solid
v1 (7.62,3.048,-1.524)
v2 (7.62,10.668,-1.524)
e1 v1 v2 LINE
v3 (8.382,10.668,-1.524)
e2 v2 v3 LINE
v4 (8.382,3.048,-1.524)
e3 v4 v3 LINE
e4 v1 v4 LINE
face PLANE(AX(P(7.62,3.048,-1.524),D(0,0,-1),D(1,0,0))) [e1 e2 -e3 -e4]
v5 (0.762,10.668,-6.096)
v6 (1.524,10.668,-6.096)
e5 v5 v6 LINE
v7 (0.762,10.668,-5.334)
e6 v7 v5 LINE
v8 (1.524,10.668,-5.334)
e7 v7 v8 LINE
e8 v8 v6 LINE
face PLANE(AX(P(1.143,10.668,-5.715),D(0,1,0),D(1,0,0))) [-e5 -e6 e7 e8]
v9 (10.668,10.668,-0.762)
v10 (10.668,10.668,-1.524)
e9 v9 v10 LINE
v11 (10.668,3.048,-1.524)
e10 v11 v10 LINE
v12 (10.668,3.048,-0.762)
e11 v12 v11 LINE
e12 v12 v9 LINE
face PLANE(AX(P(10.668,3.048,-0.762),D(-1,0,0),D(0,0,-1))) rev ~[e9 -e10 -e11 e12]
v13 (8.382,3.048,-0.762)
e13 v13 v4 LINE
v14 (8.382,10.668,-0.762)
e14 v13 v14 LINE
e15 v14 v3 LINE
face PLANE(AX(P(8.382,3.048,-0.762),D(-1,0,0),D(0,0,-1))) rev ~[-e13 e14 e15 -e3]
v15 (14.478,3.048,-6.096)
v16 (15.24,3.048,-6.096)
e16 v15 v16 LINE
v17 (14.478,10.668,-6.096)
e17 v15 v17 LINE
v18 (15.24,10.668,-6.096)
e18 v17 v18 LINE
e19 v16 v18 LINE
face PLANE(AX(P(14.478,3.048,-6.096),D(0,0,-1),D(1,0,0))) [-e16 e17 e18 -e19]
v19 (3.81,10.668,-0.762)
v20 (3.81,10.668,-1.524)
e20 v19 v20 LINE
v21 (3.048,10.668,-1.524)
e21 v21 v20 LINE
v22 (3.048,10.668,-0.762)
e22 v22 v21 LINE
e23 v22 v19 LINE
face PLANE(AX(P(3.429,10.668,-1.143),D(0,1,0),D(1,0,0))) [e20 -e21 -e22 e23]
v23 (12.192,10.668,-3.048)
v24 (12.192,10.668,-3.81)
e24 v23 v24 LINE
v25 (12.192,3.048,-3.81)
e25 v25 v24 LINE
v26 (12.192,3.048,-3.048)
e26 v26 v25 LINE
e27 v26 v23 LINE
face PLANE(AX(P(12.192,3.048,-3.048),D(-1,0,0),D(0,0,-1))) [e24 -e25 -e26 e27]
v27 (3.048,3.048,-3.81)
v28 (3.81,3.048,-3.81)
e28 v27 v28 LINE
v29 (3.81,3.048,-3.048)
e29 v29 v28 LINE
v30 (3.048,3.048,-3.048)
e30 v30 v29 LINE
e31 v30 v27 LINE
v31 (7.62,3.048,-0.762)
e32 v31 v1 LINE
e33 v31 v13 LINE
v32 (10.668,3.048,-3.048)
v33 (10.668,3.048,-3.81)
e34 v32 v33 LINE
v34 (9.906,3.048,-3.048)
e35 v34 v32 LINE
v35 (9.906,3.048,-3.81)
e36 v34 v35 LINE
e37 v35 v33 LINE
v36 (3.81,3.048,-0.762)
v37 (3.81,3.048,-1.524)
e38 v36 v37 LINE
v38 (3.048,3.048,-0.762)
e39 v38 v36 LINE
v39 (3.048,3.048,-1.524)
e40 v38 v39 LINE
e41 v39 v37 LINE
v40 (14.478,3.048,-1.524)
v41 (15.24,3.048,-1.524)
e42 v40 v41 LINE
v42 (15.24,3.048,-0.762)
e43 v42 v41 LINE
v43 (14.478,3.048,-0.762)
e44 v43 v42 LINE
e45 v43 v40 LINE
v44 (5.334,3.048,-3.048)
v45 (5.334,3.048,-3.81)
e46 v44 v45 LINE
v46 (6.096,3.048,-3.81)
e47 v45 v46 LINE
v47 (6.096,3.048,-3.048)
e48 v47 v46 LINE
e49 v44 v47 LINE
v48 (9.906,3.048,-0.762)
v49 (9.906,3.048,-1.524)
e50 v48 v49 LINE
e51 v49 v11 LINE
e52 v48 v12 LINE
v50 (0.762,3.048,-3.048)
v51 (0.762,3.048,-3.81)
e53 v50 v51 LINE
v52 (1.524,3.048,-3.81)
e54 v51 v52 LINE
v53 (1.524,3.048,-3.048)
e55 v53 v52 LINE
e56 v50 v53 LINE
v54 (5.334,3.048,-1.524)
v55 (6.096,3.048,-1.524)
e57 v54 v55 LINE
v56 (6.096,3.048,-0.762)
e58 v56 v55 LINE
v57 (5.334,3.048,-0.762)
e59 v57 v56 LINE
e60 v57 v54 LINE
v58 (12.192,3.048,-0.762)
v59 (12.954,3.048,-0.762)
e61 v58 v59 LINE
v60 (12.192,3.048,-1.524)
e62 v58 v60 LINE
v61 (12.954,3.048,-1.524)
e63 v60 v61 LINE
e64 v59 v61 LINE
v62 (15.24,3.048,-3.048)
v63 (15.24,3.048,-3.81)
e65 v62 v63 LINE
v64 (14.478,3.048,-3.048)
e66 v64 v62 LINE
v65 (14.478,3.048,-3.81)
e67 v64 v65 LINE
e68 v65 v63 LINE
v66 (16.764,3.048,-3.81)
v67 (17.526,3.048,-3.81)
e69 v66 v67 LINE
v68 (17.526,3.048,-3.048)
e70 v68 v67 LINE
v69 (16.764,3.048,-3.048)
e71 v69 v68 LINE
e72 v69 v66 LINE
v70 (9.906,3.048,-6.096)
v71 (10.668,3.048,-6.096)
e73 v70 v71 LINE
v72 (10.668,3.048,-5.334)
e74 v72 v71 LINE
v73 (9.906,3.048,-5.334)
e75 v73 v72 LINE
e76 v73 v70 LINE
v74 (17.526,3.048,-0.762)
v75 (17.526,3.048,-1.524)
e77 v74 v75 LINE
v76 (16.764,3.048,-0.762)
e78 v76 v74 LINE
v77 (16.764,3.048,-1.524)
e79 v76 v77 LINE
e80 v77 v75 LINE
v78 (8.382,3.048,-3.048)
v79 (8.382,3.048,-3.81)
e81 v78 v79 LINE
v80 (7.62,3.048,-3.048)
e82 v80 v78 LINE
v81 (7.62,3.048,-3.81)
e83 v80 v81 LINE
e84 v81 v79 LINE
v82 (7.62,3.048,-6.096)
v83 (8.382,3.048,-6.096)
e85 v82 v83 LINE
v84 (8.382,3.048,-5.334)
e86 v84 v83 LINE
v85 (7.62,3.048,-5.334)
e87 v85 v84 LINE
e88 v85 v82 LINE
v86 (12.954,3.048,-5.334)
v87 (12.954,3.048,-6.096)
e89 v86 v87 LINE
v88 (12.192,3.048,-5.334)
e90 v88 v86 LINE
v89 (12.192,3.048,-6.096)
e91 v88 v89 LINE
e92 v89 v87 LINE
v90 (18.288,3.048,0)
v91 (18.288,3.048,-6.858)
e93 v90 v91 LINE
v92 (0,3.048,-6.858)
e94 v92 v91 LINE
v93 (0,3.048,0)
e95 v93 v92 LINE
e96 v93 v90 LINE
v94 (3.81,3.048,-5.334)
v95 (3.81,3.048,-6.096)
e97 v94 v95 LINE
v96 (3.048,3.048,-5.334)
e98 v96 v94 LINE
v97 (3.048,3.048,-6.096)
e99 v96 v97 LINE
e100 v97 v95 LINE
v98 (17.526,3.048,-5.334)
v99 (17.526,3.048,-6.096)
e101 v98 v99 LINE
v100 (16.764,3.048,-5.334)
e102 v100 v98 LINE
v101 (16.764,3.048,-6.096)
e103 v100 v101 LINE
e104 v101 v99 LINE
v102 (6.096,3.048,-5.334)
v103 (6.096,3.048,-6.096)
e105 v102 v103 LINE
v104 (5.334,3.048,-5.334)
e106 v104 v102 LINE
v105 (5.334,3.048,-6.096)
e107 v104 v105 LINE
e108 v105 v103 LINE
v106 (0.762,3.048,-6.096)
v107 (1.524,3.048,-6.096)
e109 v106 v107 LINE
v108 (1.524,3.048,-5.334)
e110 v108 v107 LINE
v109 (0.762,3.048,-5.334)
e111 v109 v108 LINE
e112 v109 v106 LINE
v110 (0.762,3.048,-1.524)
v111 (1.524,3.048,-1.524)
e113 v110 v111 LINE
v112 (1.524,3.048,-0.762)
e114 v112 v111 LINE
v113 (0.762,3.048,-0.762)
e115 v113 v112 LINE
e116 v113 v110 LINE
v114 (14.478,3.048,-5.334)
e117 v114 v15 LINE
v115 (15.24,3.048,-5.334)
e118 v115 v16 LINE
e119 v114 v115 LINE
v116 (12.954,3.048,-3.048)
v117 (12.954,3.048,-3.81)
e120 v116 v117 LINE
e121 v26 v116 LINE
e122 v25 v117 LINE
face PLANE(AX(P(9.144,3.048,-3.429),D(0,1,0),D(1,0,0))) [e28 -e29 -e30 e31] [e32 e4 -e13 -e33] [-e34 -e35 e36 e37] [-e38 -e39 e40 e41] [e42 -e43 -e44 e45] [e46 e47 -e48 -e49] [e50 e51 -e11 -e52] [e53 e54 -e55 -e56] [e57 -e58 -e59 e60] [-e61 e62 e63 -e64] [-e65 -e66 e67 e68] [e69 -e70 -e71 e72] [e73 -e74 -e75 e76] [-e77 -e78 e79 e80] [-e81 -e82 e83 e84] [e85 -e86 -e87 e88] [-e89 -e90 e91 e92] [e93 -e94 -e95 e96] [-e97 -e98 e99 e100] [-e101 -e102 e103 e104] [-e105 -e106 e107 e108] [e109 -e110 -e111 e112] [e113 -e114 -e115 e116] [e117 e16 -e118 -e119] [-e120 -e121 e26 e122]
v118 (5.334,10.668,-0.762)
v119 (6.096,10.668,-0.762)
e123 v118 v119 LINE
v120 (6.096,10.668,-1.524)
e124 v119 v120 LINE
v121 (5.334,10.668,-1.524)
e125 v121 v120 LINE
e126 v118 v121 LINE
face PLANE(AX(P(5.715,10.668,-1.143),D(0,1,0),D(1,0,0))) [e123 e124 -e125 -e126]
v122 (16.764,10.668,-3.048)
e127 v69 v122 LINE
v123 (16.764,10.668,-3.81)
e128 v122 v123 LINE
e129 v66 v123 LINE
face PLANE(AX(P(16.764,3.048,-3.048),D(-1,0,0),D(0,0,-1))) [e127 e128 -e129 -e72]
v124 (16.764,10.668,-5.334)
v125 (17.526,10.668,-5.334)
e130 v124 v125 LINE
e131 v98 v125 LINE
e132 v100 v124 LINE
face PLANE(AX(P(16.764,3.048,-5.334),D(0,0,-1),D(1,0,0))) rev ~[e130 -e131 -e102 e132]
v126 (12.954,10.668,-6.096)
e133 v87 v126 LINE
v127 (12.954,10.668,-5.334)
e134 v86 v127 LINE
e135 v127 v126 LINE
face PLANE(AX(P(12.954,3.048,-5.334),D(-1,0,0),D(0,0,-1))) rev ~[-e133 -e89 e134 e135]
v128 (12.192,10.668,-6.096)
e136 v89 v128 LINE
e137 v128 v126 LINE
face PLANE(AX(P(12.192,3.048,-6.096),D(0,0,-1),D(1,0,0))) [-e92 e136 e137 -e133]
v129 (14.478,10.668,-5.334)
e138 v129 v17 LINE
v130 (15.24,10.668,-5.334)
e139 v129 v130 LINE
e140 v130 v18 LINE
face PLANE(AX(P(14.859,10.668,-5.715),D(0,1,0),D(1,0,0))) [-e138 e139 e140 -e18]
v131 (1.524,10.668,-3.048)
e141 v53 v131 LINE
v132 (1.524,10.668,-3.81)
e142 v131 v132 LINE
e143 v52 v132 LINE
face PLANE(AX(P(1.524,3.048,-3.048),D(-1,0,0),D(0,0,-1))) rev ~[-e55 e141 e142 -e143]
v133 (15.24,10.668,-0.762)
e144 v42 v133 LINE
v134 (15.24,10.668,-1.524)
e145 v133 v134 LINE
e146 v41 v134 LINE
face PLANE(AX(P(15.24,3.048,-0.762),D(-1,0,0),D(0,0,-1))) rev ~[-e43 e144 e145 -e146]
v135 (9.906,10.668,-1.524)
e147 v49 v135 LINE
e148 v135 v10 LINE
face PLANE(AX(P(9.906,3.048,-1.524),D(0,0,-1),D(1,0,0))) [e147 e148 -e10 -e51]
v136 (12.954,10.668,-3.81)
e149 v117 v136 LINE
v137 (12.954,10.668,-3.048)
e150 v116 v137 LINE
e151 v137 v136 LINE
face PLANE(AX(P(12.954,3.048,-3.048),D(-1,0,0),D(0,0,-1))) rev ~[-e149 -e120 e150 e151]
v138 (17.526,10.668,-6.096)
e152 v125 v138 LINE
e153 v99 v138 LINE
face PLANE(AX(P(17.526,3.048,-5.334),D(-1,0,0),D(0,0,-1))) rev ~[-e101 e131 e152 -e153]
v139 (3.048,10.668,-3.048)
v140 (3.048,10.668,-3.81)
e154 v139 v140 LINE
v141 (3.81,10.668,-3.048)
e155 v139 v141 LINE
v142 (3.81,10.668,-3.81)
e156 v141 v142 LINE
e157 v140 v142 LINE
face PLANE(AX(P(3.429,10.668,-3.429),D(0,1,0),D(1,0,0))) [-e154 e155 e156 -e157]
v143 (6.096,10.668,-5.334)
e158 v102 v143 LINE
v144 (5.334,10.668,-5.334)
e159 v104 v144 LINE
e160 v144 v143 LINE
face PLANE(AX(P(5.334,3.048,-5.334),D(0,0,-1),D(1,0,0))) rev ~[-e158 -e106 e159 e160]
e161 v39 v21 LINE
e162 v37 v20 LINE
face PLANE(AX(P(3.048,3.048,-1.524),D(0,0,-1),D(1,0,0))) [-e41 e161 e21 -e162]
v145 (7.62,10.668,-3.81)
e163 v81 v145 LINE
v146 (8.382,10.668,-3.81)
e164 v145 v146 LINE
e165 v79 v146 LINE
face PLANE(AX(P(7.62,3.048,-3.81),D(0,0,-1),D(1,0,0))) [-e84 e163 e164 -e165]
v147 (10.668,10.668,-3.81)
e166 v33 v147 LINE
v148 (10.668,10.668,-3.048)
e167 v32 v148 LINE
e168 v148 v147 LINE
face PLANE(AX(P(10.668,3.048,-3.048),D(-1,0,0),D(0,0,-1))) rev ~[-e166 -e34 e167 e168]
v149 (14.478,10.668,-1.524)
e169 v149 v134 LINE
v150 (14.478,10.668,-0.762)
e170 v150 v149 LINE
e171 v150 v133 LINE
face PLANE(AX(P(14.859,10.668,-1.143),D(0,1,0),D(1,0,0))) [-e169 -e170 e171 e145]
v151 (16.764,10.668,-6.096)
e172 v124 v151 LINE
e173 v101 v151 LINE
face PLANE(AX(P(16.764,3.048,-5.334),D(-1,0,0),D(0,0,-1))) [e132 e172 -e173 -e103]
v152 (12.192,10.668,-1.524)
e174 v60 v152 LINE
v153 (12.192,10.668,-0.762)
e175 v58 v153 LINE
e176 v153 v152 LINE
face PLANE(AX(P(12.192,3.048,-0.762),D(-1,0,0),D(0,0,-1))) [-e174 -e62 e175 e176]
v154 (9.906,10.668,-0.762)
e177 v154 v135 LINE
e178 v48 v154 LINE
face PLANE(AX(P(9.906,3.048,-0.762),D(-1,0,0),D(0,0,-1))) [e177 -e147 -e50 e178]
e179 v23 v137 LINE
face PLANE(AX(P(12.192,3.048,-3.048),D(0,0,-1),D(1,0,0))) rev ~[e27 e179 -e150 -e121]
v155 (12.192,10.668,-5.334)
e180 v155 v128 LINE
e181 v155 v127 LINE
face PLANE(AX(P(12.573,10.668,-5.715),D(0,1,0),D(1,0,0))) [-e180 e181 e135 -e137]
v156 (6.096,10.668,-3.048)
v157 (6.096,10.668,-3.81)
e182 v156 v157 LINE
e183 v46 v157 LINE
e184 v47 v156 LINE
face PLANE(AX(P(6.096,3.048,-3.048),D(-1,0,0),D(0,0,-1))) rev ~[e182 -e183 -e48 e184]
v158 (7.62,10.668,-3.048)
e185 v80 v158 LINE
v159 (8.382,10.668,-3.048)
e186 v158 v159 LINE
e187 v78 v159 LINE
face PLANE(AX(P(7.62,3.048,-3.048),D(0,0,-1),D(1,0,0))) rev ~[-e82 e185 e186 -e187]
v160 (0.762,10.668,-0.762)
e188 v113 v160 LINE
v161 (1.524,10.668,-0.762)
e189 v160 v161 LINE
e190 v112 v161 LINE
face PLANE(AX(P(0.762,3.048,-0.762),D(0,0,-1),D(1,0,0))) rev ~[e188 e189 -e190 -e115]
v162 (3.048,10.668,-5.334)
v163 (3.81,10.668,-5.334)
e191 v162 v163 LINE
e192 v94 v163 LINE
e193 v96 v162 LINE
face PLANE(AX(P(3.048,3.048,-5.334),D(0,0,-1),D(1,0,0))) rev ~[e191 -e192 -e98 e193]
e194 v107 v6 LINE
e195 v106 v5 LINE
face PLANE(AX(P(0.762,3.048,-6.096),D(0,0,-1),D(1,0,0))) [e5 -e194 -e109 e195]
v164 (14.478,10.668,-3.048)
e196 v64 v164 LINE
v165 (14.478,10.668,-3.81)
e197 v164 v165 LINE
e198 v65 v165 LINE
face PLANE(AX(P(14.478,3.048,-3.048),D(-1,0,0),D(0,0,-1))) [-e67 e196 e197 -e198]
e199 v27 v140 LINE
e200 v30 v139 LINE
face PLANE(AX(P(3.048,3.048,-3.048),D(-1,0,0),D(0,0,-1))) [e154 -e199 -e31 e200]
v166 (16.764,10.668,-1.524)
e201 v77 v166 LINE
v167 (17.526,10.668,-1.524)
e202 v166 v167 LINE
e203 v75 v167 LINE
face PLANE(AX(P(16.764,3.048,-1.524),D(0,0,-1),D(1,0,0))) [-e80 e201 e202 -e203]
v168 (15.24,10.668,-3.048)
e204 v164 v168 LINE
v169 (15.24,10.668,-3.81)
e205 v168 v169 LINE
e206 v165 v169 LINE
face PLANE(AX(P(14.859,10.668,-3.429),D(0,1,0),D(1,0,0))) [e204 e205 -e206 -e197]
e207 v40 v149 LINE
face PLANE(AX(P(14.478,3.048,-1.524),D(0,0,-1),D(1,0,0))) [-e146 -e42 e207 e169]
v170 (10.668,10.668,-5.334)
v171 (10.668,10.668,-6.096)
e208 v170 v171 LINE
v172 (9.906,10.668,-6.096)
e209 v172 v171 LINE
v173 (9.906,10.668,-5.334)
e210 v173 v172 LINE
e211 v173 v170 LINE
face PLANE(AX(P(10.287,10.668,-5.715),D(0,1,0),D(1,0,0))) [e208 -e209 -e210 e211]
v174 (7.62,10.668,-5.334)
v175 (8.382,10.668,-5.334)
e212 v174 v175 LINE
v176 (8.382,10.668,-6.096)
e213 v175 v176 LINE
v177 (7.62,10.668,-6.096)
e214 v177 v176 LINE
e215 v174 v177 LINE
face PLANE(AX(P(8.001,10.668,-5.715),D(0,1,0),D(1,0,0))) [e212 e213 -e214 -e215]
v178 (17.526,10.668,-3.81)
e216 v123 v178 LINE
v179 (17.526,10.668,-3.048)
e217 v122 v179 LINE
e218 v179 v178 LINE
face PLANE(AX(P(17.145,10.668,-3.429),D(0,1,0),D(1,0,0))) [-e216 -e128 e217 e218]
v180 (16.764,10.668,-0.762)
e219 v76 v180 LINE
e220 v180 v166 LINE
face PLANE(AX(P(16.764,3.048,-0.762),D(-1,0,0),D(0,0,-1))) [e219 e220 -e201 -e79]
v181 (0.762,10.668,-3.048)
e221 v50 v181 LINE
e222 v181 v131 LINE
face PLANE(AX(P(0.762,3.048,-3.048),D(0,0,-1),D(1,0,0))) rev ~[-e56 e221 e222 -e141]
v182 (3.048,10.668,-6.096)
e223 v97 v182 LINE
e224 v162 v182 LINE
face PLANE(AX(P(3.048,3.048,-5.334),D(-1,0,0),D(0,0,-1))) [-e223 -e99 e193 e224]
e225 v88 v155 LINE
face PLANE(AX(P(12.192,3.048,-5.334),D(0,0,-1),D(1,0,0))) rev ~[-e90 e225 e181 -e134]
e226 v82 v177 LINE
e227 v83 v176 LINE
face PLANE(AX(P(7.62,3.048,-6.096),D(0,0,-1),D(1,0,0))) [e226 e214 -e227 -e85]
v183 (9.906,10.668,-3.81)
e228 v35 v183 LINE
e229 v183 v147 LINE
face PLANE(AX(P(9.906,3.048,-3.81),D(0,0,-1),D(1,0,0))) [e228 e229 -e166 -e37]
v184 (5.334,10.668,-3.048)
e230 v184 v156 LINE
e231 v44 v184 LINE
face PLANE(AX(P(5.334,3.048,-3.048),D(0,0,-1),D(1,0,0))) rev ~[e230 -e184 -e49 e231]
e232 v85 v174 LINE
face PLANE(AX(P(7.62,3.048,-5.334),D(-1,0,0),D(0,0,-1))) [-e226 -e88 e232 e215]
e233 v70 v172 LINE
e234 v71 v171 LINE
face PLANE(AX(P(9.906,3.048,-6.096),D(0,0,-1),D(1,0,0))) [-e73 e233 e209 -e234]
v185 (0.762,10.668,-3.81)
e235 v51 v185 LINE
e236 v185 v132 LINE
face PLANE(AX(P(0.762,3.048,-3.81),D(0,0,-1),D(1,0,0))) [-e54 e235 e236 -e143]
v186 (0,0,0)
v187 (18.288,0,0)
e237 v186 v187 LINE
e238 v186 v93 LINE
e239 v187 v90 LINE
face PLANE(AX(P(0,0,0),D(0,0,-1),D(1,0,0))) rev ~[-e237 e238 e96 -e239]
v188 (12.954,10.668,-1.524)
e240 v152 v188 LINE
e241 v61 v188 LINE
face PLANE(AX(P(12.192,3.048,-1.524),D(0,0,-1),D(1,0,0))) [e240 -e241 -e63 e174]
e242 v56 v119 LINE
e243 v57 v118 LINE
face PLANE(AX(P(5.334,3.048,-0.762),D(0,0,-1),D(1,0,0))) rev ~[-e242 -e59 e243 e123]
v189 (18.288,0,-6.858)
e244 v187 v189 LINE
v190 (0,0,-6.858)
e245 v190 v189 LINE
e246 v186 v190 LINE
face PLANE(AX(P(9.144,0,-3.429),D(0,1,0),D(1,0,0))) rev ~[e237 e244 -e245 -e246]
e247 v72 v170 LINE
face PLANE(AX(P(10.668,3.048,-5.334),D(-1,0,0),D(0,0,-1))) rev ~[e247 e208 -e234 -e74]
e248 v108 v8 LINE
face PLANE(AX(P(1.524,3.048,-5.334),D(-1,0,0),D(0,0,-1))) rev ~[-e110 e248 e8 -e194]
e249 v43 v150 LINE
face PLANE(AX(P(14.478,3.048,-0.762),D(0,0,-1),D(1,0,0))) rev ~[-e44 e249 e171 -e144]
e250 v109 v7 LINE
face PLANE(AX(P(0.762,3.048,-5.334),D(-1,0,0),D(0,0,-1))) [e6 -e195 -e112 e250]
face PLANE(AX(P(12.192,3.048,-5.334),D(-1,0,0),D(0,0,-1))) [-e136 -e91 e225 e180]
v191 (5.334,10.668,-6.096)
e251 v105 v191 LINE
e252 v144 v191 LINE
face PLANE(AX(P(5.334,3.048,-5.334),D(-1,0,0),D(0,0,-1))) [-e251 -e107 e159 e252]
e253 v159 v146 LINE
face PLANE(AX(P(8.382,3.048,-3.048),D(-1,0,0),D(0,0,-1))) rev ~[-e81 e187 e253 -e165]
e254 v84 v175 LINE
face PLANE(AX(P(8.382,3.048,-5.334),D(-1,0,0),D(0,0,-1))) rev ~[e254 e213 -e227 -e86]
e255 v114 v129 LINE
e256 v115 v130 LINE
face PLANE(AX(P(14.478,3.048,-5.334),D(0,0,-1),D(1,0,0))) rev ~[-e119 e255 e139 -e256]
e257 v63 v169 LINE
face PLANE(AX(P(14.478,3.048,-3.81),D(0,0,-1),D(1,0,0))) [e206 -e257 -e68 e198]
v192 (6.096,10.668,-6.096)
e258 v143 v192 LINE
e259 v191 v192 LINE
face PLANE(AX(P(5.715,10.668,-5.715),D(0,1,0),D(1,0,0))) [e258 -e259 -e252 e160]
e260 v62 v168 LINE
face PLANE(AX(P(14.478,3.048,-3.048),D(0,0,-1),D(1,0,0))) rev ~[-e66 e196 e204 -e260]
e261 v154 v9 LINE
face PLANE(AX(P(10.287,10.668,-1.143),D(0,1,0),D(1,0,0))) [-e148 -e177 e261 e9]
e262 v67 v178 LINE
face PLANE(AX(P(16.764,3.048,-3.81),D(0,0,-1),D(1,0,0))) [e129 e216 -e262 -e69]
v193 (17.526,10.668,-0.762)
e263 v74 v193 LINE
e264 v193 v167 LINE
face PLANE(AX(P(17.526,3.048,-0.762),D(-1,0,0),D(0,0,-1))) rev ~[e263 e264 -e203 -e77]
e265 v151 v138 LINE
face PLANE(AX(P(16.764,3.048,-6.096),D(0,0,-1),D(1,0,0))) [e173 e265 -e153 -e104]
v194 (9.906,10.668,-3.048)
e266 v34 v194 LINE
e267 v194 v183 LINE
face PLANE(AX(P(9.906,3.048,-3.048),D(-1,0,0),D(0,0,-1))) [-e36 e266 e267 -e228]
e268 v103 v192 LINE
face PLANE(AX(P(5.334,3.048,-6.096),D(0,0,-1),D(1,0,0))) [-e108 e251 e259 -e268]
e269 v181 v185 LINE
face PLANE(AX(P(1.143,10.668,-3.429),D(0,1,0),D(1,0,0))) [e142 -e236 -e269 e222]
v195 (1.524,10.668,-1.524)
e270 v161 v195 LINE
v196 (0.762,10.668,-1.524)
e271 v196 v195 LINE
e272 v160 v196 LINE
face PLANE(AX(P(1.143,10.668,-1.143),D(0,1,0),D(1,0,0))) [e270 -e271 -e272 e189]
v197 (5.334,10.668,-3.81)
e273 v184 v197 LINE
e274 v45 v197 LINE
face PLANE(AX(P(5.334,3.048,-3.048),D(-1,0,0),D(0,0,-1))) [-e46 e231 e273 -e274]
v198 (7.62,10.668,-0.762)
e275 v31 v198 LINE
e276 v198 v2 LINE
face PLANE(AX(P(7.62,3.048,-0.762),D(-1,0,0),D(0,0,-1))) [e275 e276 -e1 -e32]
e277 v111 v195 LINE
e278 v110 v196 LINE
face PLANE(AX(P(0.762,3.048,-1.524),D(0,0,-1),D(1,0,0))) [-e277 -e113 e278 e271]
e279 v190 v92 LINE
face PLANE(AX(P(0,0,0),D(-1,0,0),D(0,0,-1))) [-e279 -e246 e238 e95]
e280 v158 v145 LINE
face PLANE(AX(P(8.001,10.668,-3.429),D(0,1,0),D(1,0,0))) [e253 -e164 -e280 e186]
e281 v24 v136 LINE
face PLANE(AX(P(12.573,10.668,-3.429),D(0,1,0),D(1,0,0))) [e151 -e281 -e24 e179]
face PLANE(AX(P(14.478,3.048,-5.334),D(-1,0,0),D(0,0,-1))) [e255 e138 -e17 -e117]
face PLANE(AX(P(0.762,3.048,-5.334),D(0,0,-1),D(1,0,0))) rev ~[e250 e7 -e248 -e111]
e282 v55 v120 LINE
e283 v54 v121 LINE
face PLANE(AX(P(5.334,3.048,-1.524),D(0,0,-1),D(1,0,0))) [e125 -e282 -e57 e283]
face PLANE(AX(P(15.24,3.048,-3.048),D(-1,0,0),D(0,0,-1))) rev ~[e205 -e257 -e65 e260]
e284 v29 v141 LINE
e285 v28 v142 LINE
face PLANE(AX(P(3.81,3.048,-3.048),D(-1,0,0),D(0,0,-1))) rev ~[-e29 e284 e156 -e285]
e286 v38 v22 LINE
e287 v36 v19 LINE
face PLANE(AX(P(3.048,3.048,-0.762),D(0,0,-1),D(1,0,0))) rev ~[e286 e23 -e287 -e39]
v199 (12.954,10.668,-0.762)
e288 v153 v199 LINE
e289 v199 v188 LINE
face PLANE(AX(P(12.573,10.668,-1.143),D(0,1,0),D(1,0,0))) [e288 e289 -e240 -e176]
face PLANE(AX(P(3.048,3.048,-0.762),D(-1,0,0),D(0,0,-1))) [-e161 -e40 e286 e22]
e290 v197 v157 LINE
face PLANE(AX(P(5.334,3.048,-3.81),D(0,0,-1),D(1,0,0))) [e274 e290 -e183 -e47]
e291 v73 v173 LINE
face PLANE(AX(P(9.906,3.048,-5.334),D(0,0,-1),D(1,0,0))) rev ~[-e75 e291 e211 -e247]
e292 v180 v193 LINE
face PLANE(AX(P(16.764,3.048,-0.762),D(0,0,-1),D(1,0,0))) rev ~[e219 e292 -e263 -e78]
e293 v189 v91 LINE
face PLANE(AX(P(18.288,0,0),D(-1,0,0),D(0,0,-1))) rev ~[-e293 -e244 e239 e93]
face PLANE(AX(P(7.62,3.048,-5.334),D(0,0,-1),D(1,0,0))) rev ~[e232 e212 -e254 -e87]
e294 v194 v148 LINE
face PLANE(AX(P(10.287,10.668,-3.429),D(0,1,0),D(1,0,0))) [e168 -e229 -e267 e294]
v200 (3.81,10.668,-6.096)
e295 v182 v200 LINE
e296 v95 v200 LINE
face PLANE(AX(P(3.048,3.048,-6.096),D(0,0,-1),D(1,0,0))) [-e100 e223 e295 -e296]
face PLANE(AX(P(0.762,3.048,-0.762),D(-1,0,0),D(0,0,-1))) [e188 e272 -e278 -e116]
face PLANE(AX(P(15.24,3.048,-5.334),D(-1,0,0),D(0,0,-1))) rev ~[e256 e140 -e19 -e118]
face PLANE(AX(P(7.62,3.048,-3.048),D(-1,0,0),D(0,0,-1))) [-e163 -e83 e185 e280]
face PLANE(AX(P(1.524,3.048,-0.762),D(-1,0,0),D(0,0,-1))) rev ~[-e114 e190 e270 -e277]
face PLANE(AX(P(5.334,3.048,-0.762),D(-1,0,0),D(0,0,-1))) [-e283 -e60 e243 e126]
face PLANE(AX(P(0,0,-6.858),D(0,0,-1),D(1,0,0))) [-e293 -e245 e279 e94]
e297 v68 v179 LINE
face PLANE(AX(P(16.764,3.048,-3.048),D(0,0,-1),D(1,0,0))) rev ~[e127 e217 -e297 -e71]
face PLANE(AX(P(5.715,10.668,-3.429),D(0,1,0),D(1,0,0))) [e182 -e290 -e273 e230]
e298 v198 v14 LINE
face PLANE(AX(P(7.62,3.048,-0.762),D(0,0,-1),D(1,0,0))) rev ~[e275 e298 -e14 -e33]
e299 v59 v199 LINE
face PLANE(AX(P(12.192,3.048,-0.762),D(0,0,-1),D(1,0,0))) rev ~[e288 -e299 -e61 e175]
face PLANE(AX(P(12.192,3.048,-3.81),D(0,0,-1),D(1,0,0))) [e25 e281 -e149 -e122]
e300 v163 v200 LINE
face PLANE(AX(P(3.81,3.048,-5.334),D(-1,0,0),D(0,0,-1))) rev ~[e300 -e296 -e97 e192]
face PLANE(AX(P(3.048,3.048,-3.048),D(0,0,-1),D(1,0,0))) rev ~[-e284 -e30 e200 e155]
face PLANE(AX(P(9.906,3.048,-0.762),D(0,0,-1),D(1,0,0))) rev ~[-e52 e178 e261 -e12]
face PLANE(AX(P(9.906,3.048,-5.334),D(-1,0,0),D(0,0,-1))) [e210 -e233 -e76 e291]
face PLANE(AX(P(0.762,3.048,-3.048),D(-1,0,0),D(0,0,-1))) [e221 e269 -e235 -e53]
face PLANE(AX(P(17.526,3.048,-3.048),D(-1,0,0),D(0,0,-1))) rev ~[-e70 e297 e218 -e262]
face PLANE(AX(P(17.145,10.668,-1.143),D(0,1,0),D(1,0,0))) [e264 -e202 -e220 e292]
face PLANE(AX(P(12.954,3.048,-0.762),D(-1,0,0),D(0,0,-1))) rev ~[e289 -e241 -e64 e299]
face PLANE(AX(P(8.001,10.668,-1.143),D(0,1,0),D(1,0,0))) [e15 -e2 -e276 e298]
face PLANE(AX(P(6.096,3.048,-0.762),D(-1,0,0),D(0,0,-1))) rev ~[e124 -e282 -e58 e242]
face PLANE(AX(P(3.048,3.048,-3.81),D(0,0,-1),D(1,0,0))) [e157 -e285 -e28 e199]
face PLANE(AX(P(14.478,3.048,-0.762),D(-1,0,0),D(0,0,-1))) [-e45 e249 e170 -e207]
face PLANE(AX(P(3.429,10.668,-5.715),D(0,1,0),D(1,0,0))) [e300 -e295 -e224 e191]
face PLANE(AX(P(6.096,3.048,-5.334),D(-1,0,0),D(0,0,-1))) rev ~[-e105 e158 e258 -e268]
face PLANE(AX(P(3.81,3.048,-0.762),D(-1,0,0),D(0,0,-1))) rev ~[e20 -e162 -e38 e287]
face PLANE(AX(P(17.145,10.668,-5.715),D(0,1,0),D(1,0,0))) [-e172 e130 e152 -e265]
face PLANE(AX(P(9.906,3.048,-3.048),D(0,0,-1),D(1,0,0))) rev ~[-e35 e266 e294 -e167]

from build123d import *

# Parameters (mm, degrees)
SKETCH1_W      = 18.288
SKETCH1_H      = 6.858
EXTRUDE1_DEPTH = 3.048
SKETCH2_W      = 0.762
SKETCH2_H      = 0.762
EXTRUDE2_DEPTH = 7.62


with BuildPart() as part:
    # Sketch1 → Extrude1 (new body)
    with BuildSketch(Plane(origin=(0, 0, 0), x_dir=(1, 0, 0), z_dir=(0, 1, 0))):
        with Locations((9.144, 3.429)):
            Rectangle(SKETCH1_W, SKETCH1_H)
    extrude(amount=EXTRUDE1_DEPTH)

    # Sketch2 → Extrude2 (add)
    with BuildSketch(Plane(origin=(0, 3.048, 0), x_dir=(1, 0, 0), z_dir=(0, 1, 0))):
        with Locations((3.429, 5.715)):
            Rectangle(SKETCH2_W, SKETCH2_H)
        with Locations((1.143, 5.715)):
            Rectangle(SKETCH2_W, SKETCH2_H)
        with Locations((5.715, 5.715)):
            Rectangle(SKETCH2_W, SKETCH2_H)
        with Locations((8.001, 5.715)):
            Rectangle(SKETCH2_W, SKETCH2_H)
        with Locations((10.287, 5.715)):
            Rectangle(SKETCH2_W, SKETCH2_H)
        with Locations((12.573, 5.715)):
            Rectangle(SKETCH2_W, SKETCH2_H)
        with Locations((14.859, 5.715)):
            Rectangle(SKETCH2_W, SKETCH2_H)
        with Locations((17.145, 5.715)):
            Rectangle(SKETCH2_W, SKETCH2_H)
        with Locations((1.143, 3.429)):
            Rectangle(SKETCH2_W, SKETCH2_H)
        with Locations((3.429, 3.429)):
            Rectangle(SKETCH2_W, SKETCH2_H)
        with Locations((5.715, 3.429)):
            Rectangle(SKETCH2_W, SKETCH2_H)
        with Locations((8.001, 3.429)):
            Rectangle(SKETCH2_W, SKETCH2_H)
        with Locations((10.287, 3.429)):
            Rectangle(SKETCH2_W, SKETCH2_H)
        with Locations((12.573, 3.429)):
            Rectangle(SKETCH2_W, SKETCH2_H)
        with Locations((14.859, 3.429)):
            Rectangle(SKETCH2_W, SKETCH2_H)
        with Locations((17.145, 3.429)):
            Rectangle(SKETCH2_W, SKETCH2_H)
        with Locations((1.143, 1.143)):
            Rectangle(SKETCH2_W, SKETCH2_H)
        with Locations((3.429, 1.143)):
            Rectangle(SKETCH2_W, SKETCH2_H)
        with Locations((5.715, 1.143)):
            Rectangle(SKETCH2_W, SKETCH2_H)
        with Locations((8.001, 1.143)):
            Rectangle(SKETCH2_W, SKETCH2_H)
        with Locations((10.287, 1.143)):
            Rectangle(SKETCH2_W, SKETCH2_H)
        with Locations((12.573, 1.143)):
            Rectangle(SKETCH2_W, SKETCH2_H)
        with Locations((14.859, 1.143)):
            Rectangle(SKETCH2_W, SKETCH2_H)
        with Locations((17.145, 1.143)):
            Rectangle(SKETCH2_W, SKETCH2_H)
    extrude(amount=EXTRUDE2_DEPTH)


solid = part.part
